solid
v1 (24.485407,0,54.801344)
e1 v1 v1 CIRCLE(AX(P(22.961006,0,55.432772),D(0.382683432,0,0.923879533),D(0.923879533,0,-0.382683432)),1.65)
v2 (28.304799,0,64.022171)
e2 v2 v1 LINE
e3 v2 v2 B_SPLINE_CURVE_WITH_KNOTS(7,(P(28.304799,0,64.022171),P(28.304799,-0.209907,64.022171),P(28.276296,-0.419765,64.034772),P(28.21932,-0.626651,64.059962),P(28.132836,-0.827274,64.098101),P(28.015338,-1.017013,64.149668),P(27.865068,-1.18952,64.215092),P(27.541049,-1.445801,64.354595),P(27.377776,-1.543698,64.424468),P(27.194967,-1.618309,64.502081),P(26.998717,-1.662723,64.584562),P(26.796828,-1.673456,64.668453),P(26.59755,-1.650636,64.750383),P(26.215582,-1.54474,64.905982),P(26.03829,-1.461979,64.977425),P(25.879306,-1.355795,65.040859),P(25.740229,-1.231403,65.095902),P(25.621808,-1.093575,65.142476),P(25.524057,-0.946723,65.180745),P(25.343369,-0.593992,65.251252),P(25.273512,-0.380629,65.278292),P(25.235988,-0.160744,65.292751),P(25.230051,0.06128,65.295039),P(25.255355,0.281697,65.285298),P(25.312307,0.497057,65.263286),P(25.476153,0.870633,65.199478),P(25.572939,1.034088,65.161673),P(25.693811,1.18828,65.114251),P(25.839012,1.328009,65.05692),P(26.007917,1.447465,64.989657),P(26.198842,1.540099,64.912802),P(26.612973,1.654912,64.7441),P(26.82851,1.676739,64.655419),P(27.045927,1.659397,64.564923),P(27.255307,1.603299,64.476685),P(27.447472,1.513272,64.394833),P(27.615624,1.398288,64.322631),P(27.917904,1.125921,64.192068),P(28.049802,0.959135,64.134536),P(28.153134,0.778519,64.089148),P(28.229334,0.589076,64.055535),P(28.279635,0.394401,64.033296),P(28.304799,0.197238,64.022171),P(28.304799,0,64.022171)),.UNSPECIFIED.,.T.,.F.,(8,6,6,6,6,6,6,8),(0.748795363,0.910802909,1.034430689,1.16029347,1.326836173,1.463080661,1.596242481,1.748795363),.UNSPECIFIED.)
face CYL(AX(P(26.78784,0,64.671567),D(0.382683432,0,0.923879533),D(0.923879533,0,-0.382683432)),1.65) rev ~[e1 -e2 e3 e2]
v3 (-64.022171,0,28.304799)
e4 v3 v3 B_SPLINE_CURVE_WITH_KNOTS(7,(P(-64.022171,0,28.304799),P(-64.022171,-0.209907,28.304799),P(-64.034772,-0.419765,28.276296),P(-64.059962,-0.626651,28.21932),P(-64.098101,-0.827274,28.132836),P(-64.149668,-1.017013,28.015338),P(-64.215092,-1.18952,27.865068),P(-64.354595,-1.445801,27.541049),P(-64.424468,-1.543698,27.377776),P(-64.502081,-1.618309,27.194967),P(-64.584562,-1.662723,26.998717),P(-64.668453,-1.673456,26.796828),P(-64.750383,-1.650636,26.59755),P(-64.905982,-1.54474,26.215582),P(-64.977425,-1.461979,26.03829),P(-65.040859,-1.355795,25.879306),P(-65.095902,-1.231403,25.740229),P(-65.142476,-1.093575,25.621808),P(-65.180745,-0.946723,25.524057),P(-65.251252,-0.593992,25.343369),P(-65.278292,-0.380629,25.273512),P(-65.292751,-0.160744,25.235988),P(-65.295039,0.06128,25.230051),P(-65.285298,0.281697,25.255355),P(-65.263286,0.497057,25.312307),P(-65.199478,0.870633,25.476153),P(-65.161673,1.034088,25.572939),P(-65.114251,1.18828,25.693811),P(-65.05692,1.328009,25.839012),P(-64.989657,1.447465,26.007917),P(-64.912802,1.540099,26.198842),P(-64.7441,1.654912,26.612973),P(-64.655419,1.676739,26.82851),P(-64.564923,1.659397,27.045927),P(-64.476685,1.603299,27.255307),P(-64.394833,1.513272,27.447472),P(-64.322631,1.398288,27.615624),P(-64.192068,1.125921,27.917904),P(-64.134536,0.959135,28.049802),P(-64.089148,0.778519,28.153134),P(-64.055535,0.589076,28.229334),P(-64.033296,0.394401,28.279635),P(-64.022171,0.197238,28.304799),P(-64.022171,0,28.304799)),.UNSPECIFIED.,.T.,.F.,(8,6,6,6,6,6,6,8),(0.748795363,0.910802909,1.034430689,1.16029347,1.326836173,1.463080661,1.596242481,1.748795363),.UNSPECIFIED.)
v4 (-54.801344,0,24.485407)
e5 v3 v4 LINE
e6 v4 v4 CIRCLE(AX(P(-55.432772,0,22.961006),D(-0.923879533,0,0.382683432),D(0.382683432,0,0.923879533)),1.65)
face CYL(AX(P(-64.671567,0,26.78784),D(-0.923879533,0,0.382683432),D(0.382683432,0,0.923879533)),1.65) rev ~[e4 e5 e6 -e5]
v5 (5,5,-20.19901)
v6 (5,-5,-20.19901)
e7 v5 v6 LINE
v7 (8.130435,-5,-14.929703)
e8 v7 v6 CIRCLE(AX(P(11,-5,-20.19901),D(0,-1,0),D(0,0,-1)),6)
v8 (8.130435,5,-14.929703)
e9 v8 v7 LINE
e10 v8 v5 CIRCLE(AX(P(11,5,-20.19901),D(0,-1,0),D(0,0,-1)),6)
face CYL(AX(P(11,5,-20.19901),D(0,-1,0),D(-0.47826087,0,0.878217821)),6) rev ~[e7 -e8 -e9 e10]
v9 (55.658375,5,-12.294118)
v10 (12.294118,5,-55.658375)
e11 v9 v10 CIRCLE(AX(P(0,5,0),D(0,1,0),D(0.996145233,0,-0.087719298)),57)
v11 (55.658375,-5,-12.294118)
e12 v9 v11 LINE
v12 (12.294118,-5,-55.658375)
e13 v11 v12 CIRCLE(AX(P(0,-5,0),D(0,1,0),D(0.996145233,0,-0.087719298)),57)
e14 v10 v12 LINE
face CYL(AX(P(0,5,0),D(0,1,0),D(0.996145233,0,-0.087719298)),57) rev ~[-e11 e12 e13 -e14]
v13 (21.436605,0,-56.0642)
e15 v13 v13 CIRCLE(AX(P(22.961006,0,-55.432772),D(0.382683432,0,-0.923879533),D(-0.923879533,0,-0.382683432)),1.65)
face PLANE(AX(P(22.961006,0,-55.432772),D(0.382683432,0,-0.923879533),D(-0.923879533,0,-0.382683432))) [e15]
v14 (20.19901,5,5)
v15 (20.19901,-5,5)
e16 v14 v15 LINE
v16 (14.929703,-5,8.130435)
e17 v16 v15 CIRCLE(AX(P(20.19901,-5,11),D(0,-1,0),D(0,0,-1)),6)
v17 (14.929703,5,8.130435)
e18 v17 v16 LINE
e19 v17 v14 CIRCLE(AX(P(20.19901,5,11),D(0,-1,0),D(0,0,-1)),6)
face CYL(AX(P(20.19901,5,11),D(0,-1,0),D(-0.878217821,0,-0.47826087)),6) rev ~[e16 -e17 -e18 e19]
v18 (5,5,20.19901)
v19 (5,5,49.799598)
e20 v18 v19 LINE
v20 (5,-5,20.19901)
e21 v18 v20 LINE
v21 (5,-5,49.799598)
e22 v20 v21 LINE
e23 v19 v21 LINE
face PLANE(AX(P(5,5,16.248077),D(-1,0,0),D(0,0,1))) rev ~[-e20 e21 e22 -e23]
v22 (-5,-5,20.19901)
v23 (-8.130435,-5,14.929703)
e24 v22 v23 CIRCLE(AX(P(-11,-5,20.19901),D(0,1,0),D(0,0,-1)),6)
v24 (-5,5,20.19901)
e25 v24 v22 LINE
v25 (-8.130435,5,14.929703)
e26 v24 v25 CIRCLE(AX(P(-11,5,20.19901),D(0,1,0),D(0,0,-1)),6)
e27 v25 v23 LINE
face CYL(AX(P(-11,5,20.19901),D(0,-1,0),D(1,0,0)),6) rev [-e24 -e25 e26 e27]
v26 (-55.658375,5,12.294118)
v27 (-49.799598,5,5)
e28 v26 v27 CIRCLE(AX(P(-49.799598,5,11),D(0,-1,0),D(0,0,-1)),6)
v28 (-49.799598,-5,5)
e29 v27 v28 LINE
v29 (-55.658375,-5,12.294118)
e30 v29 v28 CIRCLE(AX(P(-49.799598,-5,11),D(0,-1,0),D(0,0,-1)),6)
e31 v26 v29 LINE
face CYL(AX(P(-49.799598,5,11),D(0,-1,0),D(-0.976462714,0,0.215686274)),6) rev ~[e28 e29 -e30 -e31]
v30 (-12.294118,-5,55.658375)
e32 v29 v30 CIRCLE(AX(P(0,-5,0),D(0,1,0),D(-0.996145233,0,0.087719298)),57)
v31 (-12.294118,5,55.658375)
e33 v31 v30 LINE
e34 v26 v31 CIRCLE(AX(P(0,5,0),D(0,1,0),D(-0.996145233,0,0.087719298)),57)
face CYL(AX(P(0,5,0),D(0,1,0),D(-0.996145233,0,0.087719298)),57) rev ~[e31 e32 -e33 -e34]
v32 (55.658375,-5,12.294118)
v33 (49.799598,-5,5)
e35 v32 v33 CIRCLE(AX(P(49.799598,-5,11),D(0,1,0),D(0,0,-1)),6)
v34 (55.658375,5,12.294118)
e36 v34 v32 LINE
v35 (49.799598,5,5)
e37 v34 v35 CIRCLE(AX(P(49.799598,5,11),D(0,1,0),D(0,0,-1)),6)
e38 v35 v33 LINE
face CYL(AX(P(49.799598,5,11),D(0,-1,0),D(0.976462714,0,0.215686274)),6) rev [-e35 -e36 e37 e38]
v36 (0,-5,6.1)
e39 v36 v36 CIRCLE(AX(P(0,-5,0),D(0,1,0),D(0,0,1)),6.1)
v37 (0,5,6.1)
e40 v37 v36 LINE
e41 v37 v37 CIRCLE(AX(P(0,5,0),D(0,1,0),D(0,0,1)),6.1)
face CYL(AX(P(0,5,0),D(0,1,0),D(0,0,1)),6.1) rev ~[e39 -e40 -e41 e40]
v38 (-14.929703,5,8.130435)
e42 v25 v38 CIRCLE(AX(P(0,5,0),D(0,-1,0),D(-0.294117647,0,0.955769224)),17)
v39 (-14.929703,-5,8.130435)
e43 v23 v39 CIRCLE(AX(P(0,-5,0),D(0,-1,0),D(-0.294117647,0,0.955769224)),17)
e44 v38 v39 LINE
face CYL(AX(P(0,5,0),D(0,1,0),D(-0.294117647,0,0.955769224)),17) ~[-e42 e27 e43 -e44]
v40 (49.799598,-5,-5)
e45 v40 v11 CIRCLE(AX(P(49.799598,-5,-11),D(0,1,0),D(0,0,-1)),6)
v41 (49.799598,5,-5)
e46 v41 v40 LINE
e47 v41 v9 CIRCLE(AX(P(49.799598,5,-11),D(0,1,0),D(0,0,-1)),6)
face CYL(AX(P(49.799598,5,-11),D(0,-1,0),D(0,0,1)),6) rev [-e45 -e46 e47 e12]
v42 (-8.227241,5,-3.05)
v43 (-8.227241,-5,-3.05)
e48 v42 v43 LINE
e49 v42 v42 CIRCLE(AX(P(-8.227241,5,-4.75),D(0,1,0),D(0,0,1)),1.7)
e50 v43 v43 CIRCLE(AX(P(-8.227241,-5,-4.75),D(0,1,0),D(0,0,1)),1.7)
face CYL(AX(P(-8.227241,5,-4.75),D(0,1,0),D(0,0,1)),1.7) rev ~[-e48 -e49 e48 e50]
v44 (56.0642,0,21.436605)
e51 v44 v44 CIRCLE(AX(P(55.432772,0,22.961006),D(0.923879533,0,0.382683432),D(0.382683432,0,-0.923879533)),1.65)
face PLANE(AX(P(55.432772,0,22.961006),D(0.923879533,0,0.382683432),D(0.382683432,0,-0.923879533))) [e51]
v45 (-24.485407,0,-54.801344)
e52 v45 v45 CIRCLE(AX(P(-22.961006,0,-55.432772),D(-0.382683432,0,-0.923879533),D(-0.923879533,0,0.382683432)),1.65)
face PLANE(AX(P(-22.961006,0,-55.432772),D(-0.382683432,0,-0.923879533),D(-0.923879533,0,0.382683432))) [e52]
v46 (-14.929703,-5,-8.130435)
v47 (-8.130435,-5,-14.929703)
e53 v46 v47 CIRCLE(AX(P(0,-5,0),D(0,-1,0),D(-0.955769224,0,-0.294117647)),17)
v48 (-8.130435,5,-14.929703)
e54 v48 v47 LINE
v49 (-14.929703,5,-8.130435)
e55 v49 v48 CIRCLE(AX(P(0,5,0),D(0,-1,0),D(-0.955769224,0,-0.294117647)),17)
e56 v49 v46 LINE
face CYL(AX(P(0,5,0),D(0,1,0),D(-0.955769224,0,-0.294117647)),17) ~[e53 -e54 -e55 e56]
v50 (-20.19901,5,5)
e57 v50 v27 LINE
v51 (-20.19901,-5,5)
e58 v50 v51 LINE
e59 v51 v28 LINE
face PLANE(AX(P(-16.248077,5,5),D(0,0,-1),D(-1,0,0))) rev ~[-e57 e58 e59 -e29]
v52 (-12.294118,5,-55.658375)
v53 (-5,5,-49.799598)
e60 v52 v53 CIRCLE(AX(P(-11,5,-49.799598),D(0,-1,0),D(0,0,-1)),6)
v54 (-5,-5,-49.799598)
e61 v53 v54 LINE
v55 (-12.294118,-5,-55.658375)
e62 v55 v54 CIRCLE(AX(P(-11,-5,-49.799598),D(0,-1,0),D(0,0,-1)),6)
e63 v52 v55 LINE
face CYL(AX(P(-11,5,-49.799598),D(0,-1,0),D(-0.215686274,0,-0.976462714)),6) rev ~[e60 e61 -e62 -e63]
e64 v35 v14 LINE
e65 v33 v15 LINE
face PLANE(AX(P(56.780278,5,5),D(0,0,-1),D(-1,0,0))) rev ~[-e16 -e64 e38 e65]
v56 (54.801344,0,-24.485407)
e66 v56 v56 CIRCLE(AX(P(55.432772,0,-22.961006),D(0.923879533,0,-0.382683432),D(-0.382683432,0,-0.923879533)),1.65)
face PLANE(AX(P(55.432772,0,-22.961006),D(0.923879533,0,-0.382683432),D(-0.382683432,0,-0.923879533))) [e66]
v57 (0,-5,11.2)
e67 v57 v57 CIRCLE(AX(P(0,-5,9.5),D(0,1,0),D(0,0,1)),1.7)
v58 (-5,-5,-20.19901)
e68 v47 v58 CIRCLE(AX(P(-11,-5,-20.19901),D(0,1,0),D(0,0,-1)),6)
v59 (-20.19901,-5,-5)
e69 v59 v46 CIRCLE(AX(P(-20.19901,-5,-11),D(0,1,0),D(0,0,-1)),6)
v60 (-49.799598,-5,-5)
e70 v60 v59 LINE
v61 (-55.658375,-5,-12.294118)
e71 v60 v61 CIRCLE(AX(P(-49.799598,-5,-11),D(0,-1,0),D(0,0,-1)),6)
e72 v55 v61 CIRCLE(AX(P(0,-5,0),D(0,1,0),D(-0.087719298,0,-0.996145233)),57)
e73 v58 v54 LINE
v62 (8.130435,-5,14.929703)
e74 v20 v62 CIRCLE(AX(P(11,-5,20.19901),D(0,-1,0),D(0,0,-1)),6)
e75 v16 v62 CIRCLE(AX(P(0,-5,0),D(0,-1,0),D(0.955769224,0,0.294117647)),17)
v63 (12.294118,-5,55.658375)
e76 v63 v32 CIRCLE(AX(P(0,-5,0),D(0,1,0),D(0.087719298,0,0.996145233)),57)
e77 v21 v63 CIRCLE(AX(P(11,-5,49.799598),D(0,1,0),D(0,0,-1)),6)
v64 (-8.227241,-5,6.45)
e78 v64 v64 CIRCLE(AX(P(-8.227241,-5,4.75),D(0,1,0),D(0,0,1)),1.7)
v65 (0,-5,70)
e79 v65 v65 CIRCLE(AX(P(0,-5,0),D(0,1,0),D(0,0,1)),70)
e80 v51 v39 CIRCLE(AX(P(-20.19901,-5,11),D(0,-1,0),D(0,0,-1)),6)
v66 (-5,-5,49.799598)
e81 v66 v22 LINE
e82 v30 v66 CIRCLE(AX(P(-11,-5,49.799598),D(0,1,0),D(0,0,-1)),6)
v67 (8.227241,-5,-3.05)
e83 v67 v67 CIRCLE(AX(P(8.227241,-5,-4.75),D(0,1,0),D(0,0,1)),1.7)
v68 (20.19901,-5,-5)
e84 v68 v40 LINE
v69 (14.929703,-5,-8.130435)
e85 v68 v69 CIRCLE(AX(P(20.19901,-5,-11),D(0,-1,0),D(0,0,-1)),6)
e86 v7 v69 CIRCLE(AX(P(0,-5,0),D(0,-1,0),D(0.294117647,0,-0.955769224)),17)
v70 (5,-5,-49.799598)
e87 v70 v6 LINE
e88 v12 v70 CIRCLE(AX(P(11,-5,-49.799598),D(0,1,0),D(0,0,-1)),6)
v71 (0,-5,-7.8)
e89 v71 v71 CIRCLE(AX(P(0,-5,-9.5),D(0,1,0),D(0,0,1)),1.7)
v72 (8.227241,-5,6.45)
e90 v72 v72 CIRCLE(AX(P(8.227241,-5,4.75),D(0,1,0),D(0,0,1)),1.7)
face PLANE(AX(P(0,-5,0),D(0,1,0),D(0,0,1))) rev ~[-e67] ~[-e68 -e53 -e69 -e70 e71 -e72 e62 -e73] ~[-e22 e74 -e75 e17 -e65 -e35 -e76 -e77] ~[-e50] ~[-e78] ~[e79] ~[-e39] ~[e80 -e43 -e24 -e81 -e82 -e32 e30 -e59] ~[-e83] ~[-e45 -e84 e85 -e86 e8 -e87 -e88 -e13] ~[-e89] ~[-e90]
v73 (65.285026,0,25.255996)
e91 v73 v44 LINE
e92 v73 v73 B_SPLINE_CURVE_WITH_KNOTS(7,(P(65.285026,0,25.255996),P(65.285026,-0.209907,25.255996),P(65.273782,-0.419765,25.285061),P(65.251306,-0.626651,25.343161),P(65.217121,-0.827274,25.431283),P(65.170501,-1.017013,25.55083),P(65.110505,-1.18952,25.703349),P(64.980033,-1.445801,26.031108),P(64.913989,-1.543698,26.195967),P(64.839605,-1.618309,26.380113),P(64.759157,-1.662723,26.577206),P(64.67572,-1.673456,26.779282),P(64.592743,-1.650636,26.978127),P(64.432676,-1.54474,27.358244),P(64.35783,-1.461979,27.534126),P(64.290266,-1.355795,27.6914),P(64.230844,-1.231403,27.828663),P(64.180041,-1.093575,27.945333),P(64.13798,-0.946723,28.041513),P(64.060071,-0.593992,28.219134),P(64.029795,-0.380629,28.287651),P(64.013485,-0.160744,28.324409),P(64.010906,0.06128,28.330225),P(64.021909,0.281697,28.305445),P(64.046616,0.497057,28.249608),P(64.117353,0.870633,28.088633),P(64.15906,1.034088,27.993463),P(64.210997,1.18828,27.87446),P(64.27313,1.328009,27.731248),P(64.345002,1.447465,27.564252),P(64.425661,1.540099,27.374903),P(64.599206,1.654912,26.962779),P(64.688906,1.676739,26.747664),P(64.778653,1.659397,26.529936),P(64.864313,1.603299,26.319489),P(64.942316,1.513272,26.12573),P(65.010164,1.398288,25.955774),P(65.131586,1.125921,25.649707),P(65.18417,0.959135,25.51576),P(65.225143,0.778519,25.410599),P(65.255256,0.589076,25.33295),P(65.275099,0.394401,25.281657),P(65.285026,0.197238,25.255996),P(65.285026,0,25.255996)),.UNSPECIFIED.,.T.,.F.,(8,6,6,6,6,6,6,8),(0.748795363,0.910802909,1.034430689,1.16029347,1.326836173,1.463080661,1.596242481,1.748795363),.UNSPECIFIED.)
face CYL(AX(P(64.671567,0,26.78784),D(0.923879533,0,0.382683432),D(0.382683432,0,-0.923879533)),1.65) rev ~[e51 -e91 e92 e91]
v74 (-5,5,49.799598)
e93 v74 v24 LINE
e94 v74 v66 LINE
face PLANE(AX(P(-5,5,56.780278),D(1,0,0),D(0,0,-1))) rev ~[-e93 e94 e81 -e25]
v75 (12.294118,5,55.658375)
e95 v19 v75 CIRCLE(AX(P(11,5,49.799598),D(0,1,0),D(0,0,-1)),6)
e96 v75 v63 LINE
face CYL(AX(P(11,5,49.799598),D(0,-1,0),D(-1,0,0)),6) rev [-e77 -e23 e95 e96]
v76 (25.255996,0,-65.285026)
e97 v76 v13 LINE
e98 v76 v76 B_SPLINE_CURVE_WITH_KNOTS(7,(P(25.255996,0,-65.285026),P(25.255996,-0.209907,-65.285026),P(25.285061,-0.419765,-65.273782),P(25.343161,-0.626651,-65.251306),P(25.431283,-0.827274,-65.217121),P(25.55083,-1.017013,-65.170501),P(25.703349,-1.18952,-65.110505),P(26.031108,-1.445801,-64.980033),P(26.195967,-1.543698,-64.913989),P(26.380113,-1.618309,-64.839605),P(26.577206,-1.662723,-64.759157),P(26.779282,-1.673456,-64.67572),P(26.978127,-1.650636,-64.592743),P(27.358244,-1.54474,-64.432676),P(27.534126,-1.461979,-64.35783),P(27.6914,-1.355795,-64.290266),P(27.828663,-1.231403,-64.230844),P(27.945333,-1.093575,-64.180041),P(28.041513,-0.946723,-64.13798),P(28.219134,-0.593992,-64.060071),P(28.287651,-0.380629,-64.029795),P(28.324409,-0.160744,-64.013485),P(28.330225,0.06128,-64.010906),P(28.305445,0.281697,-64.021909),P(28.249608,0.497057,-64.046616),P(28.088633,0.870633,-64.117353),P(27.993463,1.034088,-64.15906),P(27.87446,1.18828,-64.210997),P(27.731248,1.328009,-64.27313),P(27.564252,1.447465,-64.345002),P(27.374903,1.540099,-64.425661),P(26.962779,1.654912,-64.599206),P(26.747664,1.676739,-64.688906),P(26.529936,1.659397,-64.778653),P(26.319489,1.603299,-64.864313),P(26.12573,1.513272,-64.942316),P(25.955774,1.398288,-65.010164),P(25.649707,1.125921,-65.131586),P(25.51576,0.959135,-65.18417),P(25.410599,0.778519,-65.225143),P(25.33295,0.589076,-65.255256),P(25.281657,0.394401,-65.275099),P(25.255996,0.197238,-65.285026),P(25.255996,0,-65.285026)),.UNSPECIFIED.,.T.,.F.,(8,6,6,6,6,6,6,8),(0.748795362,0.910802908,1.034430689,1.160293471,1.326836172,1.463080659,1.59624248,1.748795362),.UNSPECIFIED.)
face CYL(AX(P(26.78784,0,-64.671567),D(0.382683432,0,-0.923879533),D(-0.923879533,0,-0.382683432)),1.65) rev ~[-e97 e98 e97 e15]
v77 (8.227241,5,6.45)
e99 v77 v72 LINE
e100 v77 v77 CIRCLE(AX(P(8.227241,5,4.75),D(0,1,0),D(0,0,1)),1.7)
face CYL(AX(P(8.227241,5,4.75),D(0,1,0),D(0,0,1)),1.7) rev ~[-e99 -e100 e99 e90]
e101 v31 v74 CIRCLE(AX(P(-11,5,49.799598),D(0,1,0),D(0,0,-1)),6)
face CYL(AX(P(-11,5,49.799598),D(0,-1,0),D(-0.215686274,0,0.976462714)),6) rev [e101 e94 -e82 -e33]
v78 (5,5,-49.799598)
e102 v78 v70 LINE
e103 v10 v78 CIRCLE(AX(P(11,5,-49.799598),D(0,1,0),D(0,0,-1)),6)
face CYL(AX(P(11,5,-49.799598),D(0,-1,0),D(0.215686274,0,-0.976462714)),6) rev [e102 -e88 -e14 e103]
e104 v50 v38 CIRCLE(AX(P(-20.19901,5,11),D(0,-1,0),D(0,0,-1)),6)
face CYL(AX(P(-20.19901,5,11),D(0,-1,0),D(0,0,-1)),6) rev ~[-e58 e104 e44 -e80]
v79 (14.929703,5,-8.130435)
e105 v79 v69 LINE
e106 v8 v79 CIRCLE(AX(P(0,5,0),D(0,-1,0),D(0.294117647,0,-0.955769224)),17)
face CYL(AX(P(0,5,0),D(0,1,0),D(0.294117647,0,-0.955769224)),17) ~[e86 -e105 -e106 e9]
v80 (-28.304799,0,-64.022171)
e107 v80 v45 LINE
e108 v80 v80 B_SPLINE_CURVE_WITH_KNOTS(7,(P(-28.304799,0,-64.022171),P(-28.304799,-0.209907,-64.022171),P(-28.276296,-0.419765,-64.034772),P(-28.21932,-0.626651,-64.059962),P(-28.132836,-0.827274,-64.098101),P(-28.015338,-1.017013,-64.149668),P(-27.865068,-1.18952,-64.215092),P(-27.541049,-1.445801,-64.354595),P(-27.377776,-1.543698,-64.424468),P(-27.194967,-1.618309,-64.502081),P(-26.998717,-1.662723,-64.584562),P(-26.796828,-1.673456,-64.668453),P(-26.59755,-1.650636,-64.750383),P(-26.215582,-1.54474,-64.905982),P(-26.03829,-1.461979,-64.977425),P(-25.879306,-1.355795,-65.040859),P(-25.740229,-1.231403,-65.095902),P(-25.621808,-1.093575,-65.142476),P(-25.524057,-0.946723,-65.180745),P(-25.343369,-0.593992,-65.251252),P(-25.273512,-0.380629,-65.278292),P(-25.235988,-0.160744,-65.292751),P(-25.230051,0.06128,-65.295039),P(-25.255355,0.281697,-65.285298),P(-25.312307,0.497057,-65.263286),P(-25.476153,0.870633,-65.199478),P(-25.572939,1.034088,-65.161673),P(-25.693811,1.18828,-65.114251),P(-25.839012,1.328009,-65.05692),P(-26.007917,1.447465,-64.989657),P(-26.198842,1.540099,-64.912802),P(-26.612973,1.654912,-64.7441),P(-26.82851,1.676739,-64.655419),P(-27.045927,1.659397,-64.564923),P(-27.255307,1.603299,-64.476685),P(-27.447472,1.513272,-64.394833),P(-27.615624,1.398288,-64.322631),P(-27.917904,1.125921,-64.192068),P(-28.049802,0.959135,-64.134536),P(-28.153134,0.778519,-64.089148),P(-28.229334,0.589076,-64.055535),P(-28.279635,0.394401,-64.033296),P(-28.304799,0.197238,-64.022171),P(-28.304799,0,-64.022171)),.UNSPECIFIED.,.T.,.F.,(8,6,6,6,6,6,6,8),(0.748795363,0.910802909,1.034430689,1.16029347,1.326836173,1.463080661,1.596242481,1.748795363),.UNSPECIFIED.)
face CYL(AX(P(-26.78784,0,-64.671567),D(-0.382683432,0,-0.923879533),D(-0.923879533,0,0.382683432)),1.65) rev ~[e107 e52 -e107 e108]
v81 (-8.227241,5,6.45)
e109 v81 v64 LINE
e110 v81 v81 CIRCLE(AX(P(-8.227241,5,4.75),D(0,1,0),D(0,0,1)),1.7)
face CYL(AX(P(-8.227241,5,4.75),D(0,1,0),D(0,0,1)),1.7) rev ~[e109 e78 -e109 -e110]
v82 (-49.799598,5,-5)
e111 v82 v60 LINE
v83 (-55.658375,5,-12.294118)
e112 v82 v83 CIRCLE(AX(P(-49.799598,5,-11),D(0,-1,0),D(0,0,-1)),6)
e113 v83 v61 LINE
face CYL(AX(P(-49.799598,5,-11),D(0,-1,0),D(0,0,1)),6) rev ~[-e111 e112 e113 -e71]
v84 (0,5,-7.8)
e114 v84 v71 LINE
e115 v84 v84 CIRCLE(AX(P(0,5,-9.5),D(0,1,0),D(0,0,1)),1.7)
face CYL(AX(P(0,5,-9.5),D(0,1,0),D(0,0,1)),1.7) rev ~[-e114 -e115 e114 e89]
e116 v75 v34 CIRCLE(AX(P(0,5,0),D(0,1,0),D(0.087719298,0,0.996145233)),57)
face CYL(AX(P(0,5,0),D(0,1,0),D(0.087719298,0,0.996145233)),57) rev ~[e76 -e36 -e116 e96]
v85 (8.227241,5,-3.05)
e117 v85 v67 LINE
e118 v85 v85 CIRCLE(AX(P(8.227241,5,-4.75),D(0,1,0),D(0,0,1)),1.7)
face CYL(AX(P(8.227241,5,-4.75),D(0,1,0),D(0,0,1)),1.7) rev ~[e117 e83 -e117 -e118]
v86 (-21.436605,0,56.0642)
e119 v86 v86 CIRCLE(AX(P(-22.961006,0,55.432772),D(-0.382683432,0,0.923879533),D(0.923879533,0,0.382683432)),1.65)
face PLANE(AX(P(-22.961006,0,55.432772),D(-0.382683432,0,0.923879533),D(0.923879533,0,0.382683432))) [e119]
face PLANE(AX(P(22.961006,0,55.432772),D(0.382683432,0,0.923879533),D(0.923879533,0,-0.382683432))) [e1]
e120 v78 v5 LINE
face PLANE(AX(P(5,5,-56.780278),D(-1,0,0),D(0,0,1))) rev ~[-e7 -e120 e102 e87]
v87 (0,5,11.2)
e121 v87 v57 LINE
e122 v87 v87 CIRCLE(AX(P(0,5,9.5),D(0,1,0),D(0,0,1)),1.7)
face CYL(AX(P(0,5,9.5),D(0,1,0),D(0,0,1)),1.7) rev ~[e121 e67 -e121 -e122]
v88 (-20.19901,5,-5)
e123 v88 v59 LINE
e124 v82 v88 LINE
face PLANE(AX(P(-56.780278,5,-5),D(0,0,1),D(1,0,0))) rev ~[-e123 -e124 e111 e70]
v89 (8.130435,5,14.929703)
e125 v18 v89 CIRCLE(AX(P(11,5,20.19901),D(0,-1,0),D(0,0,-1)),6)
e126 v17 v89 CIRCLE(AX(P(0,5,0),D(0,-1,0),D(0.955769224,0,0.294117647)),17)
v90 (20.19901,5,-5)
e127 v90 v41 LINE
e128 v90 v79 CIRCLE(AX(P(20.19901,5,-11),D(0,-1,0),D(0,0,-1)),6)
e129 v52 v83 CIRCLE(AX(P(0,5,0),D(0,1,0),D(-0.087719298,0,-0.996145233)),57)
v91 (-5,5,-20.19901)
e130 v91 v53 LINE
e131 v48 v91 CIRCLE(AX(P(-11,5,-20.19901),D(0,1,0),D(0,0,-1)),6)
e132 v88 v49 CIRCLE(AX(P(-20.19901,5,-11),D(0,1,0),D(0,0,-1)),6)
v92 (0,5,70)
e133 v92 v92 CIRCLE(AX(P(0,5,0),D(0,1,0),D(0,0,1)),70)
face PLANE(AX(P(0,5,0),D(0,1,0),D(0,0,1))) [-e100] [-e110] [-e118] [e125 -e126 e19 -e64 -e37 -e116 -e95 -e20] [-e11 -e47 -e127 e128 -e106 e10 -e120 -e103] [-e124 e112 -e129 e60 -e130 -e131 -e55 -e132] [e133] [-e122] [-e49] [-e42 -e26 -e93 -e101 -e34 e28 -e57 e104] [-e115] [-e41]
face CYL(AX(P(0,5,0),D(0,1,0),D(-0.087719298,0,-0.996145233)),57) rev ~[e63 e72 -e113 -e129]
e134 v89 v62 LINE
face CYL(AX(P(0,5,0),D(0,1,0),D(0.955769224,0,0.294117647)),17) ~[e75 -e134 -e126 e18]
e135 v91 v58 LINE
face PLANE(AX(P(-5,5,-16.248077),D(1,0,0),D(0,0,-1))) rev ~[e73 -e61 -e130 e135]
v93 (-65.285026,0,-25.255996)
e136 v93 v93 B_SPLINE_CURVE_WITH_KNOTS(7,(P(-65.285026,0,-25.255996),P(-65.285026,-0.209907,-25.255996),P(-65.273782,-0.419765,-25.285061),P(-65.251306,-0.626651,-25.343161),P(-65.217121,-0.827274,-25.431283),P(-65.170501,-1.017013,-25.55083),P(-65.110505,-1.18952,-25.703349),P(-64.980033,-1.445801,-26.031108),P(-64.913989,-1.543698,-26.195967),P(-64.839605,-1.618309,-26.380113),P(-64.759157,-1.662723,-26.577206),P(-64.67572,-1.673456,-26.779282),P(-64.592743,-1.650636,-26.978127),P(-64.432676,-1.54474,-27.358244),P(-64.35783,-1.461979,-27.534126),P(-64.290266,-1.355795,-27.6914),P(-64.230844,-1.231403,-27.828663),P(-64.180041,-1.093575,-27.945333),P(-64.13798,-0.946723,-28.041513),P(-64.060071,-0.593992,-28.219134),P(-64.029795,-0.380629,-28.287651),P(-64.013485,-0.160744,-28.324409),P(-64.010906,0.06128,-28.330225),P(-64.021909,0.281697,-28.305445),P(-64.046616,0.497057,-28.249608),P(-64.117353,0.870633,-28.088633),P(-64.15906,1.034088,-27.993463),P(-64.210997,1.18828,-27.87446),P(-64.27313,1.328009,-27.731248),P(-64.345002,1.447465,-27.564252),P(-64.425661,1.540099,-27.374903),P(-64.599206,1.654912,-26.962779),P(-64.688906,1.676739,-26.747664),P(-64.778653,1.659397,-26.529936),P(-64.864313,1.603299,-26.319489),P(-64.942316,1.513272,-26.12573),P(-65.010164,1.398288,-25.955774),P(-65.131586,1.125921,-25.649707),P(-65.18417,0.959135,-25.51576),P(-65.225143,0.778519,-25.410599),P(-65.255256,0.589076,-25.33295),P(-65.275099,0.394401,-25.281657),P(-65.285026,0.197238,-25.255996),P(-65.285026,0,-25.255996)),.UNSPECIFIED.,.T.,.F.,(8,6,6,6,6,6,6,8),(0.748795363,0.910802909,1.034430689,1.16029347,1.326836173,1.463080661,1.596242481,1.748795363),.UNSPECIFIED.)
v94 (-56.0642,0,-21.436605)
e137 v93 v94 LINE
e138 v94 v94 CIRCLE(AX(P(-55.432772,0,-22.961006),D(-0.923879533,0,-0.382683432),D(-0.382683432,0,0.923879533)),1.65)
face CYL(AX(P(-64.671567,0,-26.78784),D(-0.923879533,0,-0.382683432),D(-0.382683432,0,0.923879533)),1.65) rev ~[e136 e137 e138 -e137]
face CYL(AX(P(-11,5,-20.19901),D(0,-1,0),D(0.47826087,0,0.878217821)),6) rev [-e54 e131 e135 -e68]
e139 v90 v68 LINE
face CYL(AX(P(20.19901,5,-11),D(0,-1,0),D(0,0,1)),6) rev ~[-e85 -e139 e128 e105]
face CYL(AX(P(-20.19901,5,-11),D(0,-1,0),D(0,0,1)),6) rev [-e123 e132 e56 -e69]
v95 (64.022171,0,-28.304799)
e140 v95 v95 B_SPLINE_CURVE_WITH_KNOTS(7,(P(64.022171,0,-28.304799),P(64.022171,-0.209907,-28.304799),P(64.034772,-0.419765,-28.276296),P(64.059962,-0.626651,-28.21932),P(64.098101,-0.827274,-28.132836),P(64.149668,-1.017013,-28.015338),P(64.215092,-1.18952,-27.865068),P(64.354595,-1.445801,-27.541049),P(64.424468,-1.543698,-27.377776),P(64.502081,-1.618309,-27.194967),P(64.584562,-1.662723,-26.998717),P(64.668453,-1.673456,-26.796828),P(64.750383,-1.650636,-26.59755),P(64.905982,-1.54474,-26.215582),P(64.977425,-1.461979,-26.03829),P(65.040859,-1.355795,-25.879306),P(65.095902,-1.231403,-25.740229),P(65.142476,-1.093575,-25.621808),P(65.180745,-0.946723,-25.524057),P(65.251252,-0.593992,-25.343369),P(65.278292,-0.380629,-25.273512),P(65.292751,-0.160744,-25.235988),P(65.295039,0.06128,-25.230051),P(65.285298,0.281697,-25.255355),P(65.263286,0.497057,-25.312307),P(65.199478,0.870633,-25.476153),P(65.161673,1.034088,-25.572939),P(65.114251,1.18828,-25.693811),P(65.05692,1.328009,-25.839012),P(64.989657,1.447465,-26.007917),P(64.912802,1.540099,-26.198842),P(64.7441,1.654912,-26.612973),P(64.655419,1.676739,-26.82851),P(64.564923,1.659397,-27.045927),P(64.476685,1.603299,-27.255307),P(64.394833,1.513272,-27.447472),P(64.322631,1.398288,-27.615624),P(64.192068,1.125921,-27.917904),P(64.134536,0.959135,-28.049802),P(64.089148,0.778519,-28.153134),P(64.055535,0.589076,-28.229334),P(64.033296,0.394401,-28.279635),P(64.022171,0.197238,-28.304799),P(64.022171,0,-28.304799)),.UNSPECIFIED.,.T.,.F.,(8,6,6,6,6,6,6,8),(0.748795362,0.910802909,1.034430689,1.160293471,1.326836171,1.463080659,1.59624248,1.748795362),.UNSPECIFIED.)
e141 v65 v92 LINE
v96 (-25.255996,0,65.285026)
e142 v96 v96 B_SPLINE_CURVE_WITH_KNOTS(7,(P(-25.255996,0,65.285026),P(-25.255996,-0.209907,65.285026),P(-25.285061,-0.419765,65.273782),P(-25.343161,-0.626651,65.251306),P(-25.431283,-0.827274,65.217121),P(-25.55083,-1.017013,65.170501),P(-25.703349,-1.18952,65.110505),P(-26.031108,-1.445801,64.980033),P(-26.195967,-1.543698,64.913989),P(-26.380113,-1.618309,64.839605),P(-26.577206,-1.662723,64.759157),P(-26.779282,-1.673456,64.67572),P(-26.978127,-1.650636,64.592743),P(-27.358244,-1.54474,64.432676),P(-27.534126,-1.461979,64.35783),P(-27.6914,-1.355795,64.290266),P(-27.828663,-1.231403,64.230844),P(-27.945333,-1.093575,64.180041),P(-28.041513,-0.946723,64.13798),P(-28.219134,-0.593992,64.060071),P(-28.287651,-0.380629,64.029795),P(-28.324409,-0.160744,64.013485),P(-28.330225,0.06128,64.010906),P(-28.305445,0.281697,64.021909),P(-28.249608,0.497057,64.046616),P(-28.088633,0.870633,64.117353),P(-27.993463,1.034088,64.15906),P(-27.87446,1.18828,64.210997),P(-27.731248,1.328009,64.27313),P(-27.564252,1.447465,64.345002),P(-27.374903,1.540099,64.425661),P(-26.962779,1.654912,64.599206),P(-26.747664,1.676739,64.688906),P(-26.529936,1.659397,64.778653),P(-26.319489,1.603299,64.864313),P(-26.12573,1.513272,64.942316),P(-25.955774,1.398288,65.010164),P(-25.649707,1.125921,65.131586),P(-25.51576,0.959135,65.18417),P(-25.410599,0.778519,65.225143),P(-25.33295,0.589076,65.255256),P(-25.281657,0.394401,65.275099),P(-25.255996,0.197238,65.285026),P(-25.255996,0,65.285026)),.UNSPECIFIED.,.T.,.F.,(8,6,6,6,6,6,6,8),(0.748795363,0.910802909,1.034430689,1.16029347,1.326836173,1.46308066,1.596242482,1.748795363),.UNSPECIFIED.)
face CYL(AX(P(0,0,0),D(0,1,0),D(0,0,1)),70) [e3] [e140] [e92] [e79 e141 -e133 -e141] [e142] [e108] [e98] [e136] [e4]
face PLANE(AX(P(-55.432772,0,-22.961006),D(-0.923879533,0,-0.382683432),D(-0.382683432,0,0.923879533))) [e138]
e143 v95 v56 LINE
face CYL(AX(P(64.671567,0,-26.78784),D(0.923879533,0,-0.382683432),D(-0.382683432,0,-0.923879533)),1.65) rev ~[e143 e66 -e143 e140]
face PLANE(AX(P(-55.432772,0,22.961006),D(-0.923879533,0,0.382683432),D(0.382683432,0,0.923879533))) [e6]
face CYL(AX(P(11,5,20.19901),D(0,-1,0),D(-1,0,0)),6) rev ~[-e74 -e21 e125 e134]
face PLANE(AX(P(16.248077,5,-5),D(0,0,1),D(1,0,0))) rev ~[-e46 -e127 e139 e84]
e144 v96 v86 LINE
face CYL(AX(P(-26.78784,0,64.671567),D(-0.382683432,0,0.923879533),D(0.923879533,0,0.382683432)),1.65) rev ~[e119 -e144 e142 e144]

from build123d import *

# Parameters (mm, degrees)
SKETCH2_R           = 70
BOSS_EXTRUDE1_DEPTH = 5
CUT_EXTRUDE1_DEPTH  = 10
SKETCH6_R           = 6.1
CUT_EXTRUDE3_DEPTH  = 100.498743711
SKETCH7_R           = 1.7
CUT_EXTRUDE4_DEPTH  = 100.498743711
FILLET1_R           = 6
SKETCH10_R          = 1.65
CUT_EXTRUDE5_DEPTH  = 10
CIRPATTERN2_COUNT   = 8


with BuildPart() as part:
    # Sketch2 → Boss-Extrude1 (new, symmetric)
    with BuildSketch(Plane(origin=(0, 0, 0), x_dir=(1, 0, 0), z_dir=(0, 1, 0))):
        Circle(SKETCH2_R)
    extrude(amount=BOSS_EXTRUDE1_DEPTH, both=True)

    # Sketch3 → Cut-Extrude1 (cut)
    with BuildSketch(Plane(origin=(0, 5, 0), x_dir=(1, 0, 0), z_dir=(0, 1, 0))):
        with BuildLine():
            Line((5, -16.248076809), (5, -56.780278266))
            ThreePointArc((5, -56.780278266), (40.305086528, -40.305086528), (56.780278266, -5))
            Line((56.780278266, -5), (16.248076809, -5))
            ThreePointArc((16.248076809, -5), (12.02081528, -12.02081528), (5, -16.248076809))
        make_face()
        with BuildLine():
            ThreePointArc((-56.780278266, -5), (-40.305086528, -40.305086528), (-5, -56.780278266))
            Line((-5, -56.780278266), (-5, -16.248076809))
            ThreePointArc((-5, -16.248076809), (-12.02081528, -12.02081528), (-16.248076809, -5))
            Line((-16.248076809, -5), (-56.780278266, -5))
        make_face()
        with BuildLine():
            Line((16.248076809, 5), (56.780278266, 5))
            ThreePointArc((56.780278266, 5), (40.305086528, 40.305086528), (5, 56.780278266))
            Line((5, 56.780278266), (5, 16.248076809))
            ThreePointArc((5, 16.248076809), (12.02081528, 12.02081528), (16.248076809, 5))
        make_face()
        with BuildLine():
            Line((-56.780278266, 5), (-16.248076809, 5))
            ThreePointArc((-16.248076809, 5), (-12.02081528, 12.02081528), (-5, 16.248076809))
            Line((-5, 16.248076809), (-5, 56.780278266))
            ThreePointArc((-5, 56.780278266), (-40.305086528, 40.305086528), (-56.780278266, 5))
        make_face()
    extrude(amount=-CUT_EXTRUDE1_DEPTH, mode=Mode.SUBTRACT)

    # Sketch6 → Cut-Extrude3 (cut, through all)
    with BuildSketch(Plane(origin=(0, 5, 0), x_dir=(1, 0, 0), z_dir=(0, 1, 0))):
        Circle(SKETCH6_R)
    extrude(amount=-CUT_EXTRUDE3_DEPTH, mode=Mode.SUBTRACT)

    # Sketch7 → Cut-Extrude4 (cut, through all)
    with BuildSketch(Plane(origin=(0, 5, 0), x_dir=(1, 0, 0), z_dir=(0, 1, 0))):
        with Locations((0, 9.5)):
            Circle(SKETCH7_R)
        with Locations((8.227241336, 4.75)):
            Circle(SKETCH7_R)
        with Locations((8.227241336, -4.75)):
            Circle(SKETCH7_R)
        with Locations((0, -9.5)):
            Circle(SKETCH7_R)
        with Locations((-8.227241336, -4.75)):
            Circle(SKETCH7_R)
        with Locations((-8.227241336, 4.75)):
            Circle(SKETCH7_R)
    extrude(amount=-CUT_EXTRUDE4_DEPTH, mode=Mode.SUBTRACT)

    # Fillet1
    fillet1_edges = [part.edges().sort_by_distance(p)[0] for p in [
        (16.248076809, 0, 5),
        (56.780278266, 0, 5),
        (56.780278266, 0, -5),
        (16.248076809, 0, -5),
        (5, 0, -16.248076809),
        (5, 0, -56.780278266),
        (-5, 0, -56.780278266),
        (-5, 0, -16.248076809),
        (-16.248076809, 0, -5),
        (-56.780278266, 0, -5),
        (-56.780278266, 0, 5),
        (-16.248076809, 0, 5),
        (-5, 0, 16.248076809),
        (-5, 0, 56.780278266),
        (5, 0, 56.780278266),
        (5, 0, 16.248076809),
    ]]
    fillet(fillet1_edges, radius=FILLET1_R)

    # Sketch10 → Cut-Extrude5 (cut)
    with BuildSketch(Plane(origin=(64.671567276, 0, -26.787840266), x_dir=(-0.38268343236509067, 0, -0.9238795325112864), z_dir=(0.9238795325112864, 0, -0.38268343236509067))):
        Circle(SKETCH10_R)
    cut_extrude5 = extrude(amount=-CUT_EXTRUDE5_DEPTH, mode=Mode.SUBTRACT)

    # CirPattern2: Cut-Extrude5 ×8 about axis
    cirpattern2_axis = Axis((0, 5, 0), (0, -1, 0))
    for i in range(1, CIRPATTERN2_COUNT):
        add(cut_extrude5.rotate(cirpattern2_axis, i * 360 / CIRPATTERN2_COUNT), mode=Mode.SUBTRACT)


solid = part.part
